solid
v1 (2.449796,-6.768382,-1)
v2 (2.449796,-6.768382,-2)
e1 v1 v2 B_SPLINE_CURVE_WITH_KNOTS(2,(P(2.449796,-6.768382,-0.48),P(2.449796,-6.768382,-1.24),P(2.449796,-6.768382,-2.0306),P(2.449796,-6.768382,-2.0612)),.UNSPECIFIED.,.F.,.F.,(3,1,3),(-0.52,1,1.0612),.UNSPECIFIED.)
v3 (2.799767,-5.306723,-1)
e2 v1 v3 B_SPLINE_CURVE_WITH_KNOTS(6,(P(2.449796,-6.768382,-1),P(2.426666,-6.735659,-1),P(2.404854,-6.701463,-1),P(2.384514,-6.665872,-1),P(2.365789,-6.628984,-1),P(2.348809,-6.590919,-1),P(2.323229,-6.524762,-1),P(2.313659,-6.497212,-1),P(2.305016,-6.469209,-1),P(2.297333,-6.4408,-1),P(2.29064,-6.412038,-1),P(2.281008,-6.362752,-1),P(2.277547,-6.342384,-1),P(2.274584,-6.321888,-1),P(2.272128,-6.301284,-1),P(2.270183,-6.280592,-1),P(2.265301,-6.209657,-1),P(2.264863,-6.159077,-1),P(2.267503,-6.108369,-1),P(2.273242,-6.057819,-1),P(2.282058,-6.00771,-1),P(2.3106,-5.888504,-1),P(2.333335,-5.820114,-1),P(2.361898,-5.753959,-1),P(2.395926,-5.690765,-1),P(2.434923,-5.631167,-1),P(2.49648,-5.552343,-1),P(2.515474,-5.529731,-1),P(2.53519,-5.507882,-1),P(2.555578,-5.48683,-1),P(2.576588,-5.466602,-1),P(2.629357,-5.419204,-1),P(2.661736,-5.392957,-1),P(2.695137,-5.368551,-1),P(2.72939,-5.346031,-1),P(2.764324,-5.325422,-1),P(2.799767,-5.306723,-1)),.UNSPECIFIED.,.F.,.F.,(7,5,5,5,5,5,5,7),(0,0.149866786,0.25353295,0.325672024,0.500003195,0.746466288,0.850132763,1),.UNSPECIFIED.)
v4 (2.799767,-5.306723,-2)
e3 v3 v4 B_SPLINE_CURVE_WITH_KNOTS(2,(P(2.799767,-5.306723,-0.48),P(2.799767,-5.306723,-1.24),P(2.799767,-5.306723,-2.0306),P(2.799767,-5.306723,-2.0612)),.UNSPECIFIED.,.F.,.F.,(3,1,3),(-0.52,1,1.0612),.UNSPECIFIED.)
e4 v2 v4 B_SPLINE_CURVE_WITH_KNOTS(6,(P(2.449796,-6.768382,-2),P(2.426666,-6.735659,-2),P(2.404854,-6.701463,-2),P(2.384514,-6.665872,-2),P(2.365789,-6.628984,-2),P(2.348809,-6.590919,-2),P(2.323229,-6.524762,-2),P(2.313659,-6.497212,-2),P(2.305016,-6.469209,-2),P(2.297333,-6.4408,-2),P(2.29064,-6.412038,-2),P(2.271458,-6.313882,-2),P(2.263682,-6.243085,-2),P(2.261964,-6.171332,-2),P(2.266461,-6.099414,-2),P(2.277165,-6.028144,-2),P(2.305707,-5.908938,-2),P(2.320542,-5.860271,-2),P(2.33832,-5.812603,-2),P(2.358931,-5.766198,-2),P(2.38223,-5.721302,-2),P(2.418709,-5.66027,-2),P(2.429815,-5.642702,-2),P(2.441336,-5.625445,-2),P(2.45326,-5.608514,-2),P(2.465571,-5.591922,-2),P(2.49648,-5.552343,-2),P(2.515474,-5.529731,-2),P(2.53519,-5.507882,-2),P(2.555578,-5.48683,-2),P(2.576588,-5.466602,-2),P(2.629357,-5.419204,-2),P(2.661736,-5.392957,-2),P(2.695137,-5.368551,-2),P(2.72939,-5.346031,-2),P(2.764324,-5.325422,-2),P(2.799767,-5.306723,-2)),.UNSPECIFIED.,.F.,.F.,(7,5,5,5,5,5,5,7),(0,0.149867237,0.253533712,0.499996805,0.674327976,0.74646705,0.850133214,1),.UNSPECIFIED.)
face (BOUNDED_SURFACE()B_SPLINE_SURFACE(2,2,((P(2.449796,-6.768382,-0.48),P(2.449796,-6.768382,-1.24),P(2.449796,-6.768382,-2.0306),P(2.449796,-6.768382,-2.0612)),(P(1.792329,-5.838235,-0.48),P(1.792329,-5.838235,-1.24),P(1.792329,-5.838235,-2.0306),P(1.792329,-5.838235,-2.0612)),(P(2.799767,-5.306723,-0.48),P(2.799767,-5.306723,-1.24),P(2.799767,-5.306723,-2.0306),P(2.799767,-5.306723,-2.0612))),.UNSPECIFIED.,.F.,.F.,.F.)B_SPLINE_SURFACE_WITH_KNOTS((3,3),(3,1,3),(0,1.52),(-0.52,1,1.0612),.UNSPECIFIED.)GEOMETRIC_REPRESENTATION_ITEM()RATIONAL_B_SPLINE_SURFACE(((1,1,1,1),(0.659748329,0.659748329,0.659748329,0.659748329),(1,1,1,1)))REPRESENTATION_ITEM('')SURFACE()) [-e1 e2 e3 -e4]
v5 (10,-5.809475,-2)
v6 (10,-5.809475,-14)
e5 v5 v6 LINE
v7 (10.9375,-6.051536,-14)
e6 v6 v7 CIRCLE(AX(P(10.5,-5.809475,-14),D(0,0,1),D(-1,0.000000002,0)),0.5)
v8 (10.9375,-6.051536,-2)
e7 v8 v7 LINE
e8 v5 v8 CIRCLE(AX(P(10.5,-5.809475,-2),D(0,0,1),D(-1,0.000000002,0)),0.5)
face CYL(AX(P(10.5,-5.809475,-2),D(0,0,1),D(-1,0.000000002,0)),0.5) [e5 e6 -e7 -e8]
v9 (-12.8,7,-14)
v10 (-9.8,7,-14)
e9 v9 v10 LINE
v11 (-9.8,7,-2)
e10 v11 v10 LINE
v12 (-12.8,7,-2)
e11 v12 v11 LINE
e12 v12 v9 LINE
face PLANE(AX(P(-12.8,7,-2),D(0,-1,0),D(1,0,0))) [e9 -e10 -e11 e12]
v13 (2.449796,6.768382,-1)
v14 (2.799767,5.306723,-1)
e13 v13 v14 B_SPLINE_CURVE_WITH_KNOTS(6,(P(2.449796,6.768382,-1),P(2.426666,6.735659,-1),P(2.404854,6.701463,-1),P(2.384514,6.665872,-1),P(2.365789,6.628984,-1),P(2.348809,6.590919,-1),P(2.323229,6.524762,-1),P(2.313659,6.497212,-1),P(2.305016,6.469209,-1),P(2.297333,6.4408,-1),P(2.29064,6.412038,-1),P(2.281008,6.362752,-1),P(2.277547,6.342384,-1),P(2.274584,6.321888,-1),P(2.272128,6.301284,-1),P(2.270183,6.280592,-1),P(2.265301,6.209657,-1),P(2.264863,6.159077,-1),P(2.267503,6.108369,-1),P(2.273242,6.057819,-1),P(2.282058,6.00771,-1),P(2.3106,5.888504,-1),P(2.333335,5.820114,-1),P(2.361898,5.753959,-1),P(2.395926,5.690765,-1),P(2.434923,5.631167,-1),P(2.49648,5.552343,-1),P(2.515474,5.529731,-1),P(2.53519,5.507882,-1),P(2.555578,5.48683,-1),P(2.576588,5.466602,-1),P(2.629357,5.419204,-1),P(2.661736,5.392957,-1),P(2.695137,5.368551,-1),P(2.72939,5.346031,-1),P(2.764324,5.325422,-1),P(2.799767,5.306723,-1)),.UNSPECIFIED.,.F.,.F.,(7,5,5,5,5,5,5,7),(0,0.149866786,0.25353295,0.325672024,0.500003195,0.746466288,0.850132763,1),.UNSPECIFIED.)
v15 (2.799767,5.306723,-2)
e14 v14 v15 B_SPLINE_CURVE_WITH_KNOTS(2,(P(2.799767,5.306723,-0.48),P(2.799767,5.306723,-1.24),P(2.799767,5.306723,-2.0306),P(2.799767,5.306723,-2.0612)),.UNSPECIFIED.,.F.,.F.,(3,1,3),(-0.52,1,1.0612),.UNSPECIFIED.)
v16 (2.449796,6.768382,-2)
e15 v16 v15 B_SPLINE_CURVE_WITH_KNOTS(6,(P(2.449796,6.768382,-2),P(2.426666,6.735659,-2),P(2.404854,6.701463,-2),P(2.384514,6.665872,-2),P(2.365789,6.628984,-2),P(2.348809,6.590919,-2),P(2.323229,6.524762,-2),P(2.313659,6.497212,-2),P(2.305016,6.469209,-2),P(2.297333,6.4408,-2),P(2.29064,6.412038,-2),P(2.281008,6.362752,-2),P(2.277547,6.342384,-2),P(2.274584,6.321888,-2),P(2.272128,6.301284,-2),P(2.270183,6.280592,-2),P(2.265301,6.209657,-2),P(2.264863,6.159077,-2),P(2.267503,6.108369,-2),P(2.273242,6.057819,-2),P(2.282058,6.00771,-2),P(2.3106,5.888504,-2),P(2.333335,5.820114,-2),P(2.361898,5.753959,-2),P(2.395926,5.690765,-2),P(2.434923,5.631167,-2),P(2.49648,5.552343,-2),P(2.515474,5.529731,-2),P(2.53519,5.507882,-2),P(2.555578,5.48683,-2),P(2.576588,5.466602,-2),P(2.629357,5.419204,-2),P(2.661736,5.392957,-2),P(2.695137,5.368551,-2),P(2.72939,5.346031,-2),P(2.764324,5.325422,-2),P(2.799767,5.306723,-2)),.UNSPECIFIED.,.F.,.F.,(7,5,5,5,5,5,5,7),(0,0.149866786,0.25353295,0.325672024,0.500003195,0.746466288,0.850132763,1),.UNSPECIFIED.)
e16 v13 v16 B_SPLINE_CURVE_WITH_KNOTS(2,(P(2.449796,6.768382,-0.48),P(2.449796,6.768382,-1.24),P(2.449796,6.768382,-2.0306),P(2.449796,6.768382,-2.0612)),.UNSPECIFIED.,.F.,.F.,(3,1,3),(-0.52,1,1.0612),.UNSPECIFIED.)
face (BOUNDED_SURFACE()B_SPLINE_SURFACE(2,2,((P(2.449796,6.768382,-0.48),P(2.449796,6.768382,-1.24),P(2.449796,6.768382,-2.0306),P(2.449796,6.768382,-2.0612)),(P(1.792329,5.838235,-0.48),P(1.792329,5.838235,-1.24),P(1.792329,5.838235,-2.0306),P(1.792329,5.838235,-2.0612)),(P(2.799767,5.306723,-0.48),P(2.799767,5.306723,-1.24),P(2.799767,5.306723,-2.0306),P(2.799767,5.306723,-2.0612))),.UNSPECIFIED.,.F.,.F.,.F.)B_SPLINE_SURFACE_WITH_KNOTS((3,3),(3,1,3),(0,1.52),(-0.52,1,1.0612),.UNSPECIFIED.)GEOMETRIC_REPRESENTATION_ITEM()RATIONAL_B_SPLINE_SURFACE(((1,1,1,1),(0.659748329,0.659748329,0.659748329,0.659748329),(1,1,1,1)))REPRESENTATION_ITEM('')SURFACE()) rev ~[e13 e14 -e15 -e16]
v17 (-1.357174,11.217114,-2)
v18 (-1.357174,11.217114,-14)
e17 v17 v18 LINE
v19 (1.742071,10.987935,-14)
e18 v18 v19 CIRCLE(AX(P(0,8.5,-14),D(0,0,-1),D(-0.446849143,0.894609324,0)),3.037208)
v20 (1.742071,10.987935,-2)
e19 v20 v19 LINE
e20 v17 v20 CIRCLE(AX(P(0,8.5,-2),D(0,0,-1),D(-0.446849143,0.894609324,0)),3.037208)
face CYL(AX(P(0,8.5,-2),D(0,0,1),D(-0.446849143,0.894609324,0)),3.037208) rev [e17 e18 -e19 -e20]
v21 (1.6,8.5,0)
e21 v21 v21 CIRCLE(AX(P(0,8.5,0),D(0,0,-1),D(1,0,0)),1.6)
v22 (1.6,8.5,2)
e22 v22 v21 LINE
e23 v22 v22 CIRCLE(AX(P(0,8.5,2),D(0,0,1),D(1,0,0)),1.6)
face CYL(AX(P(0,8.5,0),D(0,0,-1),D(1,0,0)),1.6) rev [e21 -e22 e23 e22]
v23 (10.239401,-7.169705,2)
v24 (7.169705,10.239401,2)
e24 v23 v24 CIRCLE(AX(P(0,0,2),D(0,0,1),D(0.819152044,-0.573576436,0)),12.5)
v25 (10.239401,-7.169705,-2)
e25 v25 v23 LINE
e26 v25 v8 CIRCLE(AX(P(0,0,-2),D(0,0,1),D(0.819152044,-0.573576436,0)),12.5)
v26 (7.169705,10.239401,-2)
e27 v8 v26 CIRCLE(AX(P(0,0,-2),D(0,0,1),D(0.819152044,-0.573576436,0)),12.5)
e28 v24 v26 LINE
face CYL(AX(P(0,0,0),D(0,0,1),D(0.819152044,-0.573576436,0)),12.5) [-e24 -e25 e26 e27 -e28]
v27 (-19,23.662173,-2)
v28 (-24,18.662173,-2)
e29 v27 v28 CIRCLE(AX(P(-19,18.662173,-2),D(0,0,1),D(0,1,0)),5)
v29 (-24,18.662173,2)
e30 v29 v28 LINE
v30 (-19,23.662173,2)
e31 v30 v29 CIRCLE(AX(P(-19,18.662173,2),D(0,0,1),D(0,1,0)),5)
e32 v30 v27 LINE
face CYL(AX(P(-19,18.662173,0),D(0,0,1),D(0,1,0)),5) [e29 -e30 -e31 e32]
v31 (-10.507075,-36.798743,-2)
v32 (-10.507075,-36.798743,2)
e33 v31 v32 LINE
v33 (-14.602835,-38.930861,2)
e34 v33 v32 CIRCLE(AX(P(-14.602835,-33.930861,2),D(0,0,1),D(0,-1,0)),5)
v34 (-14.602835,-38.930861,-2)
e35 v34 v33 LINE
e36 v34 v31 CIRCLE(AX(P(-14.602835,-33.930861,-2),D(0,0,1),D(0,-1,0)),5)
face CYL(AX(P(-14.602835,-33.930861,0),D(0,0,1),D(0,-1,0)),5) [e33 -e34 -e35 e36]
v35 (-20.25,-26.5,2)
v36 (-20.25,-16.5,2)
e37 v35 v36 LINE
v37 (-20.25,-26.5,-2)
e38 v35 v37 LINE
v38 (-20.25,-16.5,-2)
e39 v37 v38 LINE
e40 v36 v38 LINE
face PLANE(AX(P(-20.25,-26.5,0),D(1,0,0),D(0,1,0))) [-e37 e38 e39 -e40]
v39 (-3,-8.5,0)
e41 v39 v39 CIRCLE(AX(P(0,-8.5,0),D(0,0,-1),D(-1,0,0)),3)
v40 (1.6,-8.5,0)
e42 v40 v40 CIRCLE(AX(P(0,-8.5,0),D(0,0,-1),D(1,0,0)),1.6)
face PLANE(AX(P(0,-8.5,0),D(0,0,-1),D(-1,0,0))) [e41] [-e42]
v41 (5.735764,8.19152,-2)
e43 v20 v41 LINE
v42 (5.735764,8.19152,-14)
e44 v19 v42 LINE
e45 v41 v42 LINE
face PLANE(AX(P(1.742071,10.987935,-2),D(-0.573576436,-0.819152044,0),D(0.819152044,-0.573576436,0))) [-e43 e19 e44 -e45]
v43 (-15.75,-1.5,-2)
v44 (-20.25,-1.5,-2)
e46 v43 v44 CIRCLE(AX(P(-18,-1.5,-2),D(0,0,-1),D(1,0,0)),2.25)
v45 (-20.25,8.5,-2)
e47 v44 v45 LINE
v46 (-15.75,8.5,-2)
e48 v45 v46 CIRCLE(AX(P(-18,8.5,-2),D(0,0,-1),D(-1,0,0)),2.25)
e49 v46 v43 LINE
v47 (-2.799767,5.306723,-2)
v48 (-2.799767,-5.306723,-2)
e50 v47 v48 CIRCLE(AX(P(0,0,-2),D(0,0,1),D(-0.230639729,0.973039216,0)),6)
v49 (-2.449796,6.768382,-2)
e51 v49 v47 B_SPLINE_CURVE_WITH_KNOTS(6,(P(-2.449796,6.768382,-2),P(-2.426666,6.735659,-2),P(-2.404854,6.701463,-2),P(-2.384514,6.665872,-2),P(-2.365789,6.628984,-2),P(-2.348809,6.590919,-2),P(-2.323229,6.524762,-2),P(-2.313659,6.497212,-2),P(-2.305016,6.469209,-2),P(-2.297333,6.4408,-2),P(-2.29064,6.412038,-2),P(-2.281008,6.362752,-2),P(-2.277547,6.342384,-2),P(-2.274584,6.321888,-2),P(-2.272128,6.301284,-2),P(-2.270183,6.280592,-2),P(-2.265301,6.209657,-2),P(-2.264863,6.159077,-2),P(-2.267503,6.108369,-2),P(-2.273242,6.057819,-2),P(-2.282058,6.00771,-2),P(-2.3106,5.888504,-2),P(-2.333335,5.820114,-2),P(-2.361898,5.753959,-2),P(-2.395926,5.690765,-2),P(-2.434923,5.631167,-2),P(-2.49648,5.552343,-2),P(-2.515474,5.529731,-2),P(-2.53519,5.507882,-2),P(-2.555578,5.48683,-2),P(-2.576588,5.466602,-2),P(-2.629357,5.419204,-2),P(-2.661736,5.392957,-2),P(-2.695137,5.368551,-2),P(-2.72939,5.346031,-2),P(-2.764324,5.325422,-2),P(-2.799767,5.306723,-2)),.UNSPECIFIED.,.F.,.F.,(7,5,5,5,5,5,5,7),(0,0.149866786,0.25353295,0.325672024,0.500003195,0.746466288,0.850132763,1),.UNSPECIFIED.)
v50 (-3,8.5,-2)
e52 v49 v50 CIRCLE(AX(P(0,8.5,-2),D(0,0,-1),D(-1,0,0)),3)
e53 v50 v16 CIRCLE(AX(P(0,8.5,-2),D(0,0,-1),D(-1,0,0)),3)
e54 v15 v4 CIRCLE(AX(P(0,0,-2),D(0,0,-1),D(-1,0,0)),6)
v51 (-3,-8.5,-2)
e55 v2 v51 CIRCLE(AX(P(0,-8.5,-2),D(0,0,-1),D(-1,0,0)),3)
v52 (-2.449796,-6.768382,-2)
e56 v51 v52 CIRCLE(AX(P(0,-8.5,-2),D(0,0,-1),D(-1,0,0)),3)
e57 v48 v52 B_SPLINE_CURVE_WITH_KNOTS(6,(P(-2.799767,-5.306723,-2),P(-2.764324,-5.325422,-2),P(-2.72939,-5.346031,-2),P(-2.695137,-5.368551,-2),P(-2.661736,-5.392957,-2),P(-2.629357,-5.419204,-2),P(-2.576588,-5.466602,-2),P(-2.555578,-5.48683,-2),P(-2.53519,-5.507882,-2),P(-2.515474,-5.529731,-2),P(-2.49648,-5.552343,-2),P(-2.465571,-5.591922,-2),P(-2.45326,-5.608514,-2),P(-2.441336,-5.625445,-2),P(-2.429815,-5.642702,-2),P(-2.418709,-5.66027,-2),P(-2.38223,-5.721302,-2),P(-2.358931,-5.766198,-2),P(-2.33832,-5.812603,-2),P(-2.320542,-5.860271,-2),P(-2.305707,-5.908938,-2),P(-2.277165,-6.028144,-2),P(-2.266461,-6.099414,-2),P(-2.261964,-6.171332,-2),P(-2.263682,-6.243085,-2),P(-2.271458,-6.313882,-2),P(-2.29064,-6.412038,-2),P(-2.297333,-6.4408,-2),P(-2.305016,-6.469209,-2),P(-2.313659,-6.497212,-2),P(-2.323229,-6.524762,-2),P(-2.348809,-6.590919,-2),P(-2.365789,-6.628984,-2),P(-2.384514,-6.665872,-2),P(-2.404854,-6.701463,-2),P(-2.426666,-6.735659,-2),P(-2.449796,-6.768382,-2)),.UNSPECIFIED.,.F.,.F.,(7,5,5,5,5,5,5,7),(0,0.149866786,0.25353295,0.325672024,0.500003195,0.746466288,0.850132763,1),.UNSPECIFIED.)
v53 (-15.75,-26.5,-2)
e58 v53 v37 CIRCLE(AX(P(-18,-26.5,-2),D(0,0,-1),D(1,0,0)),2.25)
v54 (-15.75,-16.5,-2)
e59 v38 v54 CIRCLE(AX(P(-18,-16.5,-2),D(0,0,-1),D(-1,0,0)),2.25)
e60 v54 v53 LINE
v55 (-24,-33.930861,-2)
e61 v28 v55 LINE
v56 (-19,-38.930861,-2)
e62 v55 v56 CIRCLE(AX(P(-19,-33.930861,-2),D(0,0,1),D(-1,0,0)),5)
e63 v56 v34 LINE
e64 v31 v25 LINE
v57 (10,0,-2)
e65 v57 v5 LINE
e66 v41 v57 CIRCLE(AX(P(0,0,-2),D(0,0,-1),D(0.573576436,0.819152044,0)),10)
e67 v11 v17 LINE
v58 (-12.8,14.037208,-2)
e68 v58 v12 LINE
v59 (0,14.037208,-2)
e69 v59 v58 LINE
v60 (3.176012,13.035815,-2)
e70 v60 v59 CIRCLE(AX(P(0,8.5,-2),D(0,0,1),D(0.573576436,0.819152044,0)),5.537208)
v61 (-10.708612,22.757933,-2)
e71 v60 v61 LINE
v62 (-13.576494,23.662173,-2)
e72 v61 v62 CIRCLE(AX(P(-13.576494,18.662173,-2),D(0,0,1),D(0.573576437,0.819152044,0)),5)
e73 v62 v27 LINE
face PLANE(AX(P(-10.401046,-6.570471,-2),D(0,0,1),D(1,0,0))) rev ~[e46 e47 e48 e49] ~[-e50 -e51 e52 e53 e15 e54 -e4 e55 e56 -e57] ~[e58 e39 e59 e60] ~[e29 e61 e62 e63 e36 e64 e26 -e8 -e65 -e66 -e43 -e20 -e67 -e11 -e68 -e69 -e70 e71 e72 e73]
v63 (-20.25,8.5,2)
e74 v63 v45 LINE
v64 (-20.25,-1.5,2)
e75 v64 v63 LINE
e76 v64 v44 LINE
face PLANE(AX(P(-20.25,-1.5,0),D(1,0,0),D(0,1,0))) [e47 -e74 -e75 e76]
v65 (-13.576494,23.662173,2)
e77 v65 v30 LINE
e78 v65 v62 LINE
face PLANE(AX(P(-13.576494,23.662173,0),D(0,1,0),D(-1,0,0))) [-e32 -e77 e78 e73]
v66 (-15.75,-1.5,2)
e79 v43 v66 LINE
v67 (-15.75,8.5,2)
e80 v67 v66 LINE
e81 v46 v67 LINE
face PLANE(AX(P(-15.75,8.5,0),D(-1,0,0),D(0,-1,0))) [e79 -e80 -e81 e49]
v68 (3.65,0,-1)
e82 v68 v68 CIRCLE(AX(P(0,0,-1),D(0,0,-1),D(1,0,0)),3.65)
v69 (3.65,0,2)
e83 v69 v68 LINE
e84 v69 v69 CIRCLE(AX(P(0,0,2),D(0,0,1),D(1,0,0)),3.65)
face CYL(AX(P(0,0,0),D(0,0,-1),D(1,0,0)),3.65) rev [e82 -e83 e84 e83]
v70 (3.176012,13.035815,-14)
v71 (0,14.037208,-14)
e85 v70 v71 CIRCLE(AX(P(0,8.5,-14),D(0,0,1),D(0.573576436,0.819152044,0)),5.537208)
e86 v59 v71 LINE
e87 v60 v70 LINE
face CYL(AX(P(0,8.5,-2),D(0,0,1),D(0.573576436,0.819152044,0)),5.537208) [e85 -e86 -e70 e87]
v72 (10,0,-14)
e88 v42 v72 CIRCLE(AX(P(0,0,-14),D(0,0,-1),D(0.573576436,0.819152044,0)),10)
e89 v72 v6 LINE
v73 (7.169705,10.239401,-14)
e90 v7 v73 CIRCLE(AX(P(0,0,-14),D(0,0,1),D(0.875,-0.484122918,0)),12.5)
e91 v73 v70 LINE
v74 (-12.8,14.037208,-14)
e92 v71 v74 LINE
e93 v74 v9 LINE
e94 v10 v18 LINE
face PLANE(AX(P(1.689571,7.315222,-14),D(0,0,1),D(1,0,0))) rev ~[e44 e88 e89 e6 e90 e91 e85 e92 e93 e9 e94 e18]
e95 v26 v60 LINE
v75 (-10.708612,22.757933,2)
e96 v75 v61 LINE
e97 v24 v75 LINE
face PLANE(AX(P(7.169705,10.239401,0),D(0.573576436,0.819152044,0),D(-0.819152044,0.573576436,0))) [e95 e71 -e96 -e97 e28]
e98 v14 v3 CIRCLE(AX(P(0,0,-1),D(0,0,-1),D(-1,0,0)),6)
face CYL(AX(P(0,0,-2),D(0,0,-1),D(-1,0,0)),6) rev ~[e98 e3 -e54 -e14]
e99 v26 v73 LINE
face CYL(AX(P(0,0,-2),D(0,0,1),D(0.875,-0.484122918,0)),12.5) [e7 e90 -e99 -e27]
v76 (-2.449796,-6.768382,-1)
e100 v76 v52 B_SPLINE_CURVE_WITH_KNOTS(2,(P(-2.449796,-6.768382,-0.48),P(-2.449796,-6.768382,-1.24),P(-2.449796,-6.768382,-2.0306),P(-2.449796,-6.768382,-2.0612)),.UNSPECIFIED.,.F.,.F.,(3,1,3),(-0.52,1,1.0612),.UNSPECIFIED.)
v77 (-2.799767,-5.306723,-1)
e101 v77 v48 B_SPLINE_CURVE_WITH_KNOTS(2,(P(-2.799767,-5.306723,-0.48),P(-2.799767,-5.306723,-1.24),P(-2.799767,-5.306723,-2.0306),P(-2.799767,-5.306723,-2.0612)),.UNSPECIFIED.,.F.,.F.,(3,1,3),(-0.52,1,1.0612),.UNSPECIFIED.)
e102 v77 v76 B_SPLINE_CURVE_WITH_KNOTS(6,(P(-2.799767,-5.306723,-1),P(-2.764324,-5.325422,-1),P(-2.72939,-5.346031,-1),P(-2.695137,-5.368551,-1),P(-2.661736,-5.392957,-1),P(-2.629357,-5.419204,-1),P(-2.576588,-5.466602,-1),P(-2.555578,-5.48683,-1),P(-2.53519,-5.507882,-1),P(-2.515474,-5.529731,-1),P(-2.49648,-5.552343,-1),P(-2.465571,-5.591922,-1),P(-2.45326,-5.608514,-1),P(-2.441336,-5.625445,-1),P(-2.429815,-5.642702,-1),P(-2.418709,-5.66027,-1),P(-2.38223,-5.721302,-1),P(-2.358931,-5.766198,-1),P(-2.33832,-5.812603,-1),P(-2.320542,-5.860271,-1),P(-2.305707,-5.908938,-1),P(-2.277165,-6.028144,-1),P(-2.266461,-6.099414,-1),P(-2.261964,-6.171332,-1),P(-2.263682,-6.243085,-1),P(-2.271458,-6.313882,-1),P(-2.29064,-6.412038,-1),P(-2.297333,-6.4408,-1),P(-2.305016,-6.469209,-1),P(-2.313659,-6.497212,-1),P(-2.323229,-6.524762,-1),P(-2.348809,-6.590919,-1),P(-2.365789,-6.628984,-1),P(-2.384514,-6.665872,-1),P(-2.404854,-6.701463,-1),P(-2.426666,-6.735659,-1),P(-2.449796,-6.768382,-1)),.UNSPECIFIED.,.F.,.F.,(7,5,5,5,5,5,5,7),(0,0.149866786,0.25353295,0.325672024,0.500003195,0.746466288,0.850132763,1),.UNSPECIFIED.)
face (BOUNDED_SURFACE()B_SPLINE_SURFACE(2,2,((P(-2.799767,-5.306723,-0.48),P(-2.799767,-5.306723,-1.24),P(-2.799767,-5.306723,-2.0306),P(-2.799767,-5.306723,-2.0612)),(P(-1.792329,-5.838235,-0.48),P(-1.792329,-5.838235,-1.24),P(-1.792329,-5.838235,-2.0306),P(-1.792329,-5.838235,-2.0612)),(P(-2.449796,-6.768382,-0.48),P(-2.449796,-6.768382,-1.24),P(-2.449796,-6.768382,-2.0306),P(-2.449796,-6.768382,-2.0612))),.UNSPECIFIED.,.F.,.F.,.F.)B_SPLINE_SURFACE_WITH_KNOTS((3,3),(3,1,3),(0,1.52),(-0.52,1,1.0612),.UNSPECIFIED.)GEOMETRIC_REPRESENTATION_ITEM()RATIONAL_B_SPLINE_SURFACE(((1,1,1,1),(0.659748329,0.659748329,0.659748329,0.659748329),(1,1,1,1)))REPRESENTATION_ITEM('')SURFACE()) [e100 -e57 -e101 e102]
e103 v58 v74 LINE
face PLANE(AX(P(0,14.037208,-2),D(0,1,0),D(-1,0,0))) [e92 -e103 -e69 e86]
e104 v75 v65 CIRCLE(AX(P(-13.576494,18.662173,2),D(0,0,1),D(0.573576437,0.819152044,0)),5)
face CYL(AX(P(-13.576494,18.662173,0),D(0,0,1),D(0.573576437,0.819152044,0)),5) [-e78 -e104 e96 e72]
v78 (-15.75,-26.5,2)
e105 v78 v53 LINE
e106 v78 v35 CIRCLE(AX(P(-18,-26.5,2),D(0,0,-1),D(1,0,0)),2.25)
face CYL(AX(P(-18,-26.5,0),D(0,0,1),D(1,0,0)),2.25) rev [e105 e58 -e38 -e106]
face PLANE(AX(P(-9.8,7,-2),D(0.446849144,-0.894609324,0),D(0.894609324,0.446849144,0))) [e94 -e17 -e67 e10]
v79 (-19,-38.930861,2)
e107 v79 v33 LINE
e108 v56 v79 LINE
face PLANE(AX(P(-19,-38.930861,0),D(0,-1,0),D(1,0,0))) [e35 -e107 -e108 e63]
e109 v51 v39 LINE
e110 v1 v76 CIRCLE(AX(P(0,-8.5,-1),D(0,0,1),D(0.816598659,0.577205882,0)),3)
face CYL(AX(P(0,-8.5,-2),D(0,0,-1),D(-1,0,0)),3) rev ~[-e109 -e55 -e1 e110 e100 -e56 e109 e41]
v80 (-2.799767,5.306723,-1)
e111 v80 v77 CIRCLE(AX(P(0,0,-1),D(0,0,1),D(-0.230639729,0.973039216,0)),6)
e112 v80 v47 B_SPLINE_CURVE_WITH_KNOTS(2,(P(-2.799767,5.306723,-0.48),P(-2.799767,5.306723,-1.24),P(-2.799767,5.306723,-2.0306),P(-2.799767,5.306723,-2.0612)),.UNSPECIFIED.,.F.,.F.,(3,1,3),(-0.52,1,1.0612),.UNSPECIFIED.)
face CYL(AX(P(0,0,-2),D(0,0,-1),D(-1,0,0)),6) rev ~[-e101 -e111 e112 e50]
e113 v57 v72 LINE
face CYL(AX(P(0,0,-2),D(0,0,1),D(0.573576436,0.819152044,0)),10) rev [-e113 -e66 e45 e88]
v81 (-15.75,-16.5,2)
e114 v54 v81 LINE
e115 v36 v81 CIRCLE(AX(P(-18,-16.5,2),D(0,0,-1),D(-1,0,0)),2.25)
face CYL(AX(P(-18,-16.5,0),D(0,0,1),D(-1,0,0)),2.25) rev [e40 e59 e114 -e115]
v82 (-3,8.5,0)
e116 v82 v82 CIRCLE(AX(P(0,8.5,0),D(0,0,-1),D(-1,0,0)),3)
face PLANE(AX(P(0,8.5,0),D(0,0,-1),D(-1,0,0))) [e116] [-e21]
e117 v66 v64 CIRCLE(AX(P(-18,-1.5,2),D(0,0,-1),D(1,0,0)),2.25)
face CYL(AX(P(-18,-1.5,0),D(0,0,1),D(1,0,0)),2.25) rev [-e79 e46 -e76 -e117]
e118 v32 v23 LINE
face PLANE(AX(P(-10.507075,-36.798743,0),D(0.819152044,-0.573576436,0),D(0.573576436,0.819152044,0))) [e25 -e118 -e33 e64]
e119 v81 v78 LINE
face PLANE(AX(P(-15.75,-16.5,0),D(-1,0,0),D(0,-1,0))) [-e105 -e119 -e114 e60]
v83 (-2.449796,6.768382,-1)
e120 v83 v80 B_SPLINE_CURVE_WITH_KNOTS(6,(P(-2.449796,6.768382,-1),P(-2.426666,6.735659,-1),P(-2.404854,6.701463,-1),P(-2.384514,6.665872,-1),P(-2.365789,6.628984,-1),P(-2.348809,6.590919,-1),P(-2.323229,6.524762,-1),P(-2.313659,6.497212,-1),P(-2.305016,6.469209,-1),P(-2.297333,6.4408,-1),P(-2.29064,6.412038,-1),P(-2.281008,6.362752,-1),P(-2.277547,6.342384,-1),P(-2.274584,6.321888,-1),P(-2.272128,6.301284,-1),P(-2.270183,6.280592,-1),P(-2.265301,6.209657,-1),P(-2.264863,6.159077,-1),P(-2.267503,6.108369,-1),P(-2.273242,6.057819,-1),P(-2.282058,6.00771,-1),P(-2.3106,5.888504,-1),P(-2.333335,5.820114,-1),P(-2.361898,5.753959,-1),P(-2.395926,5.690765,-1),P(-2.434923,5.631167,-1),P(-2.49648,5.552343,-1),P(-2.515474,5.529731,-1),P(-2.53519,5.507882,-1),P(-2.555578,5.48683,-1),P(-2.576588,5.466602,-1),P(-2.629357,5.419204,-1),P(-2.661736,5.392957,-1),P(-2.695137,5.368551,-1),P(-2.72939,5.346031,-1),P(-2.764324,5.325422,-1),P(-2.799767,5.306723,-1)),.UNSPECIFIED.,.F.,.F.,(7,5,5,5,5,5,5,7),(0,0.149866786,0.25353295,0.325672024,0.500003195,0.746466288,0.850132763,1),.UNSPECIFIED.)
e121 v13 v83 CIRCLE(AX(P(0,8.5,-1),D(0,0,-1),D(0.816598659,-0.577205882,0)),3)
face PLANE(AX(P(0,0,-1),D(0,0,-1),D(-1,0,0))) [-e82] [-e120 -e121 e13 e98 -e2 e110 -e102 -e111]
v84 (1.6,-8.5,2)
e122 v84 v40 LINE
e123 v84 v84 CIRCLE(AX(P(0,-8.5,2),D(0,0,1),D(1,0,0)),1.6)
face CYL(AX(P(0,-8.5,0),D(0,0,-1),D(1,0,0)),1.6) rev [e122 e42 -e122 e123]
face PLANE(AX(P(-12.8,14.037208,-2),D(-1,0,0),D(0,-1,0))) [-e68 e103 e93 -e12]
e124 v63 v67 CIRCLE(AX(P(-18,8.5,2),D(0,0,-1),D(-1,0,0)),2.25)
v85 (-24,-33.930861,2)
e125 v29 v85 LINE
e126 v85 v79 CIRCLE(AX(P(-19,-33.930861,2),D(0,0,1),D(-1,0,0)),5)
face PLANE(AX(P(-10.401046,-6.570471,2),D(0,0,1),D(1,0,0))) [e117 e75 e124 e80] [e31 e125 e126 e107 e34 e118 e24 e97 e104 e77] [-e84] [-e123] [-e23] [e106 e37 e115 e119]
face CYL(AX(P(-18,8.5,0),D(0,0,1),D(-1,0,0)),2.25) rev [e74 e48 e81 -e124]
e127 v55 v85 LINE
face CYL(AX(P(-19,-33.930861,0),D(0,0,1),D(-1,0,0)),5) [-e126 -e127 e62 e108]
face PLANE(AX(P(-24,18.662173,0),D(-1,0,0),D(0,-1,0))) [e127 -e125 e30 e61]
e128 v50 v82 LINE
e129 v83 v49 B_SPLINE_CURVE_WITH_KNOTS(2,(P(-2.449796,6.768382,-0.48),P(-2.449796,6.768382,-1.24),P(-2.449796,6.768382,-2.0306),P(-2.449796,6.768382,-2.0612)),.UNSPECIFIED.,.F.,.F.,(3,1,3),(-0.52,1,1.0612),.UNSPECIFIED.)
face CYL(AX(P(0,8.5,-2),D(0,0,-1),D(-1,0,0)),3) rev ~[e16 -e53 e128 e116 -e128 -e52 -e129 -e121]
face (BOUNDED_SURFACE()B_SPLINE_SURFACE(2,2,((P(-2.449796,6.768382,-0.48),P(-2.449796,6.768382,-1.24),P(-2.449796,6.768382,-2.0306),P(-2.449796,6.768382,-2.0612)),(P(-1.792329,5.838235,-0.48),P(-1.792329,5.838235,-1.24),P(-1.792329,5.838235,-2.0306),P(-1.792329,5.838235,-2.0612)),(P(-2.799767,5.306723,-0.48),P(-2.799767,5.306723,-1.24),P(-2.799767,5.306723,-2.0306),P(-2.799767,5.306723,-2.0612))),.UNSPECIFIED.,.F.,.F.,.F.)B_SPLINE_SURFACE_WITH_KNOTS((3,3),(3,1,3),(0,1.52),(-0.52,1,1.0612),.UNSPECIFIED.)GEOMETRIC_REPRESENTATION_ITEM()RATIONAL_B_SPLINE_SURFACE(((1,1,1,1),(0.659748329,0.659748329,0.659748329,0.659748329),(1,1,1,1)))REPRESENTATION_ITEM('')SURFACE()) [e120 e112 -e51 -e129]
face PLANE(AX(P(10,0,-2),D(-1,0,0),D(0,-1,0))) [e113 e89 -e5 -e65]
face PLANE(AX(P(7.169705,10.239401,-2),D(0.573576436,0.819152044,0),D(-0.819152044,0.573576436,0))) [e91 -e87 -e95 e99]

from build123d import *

# Parameters (mm, degrees)
SKETCH1_R           = 3.65
SKETCH1_R_2         = 1.6
BOSS_EXTRUDE1_DEPTH = 2
SKETCH2_R           = 3
CUT_EXTRUDE1_DEPTH  = 2
SKETCH3_R           = 6
CUT_EXTRUDE2_DEPTH  = 1
FILLET1_R           = 1
BOSS_EXTRUDE2_DEPTH = 12


with BuildPart() as part:
    # Sketch1 → Boss-Extrude1 (new, symmetric)
    with BuildSketch(Plane.XY):
        with BuildLine():
            Line((-24, 18.662172818), (-24, -33.930861026))
            ThreePointArc((-24, -33.930861026), (-22.535533906, -37.466394932), (-19, -38.930861026))
            Line((-19, -38.930861026), (-14.602835253, -38.930861026))
            ThreePointArc((-14.602835253, -38.930861026), (-12.294092187, -38.365915192), (-10.507075031, -36.798743208))
            Line((-10.507075031, -36.798743208), (10.239400554, -7.169705454))
            ThreePointArc((10.239400554, -7.169705454), (12.310096913, 2.170602221), (7.169705454, 10.239400554))
            Line((7.169705454, 10.239400554), (-10.708611763, 22.757933039))
            ThreePointArc((-10.708611763, 22.757933039), (-12.072964947, 23.430757572), (-13.576493944, 23.662172818))
            Line((-13.576493944, 23.662172818), (-19, 23.662172818))
            ThreePointArc((-19, 23.662172818), (-22.535533906, 22.197706724), (-24, 18.662172818))
        make_face()
        Circle(SKETCH1_R, mode=Mode.SUBTRACT)
        with Locations((0, 8.5)):
            Circle(SKETCH1_R_2, mode=Mode.SUBTRACT)
        with Locations((0, -8.5)):
            Circle(SKETCH1_R_2, mode=Mode.SUBTRACT)
        with BuildLine():
            Line((-15.75, 8.5), (-15.75, -1.5))
            ThreePointArc((-15.75, -1.5), (-18, -3.75), (-20.25, -1.5))
            Line((-20.25, -1.5), (-20.25, 8.5))
            ThreePointArc((-20.25, 8.5), (-18, 10.75), (-15.75, 8.5))
        make_face(mode=Mode.SUBTRACT)
        with BuildLine():
            Line((-15.75, -16.5), (-15.75, -26.5))
            ThreePointArc((-15.75, -26.5), (-18, -28.75), (-20.25, -26.5))
            Line((-20.25, -26.5), (-20.25, -16.5))
            ThreePointArc((-20.25, -16.5), (-18, -14.25), (-15.75, -16.5))
        make_face(mode=Mode.SUBTRACT)
    extrude(amount=BOSS_EXTRUDE1_DEPTH, both=True)

    # Sketch2 → Cut-Extrude1 (cut)
    with BuildSketch(Plane(origin=(0, 0, -2), x_dir=(-1, 0, 0), z_dir=(0, 0, -1))):
        with Locations((0, 8.5)):
            Circle(SKETCH2_R)
        with Locations((0, -8.5)):
            Circle(SKETCH2_R)
    extrude(amount=-CUT_EXTRUDE1_DEPTH, mode=Mode.SUBTRACT)

    # Sketch3 → Cut-Extrude2 (cut)
    with BuildSketch(Plane(origin=(0, 0, -2), x_dir=(-1, 0, 0), z_dir=(0, 0, -1))):
        Circle(SKETCH3_R)
    extrude(amount=-CUT_EXTRUDE2_DEPTH, mode=Mode.SUBTRACT)

    # Fillet1
    fillet1_edges = [part.edges().sort_by_distance(p)[0] for p in [
        (-1.383838376, -5.838235294, -1.5),
        (1.383838376, -5.838235294, -1.5),
        (-1.383838376, 5.838235294, -1.5),
        (1.383838376, 5.838235294, -1.5),
    ]]
    fillet(fillet1_edges, radius=FILLET1_R)

    # Sketch4 → Boss-Extrude2 (add)
    with BuildSketch(Plane(origin=(0, 0, -2), x_dir=(-1, 0, 0), z_dir=(0, 0, -1))):
        with BuildLine():
            Line((9.8, 7), (1.357173626, 11.217114259))
            ThreePointArc((1.357173626, 11.217114259), (-0.22398046, 11.528937586), (-1.742070725, 10.987934834))
            Line((-1.742070725, 10.987934834), (-5.735764364, 8.191520443))
            ThreePointArc((-5.735764364, 8.191520443), (-8.870108332, 4.617486132), (-10, 0))
            Line((-10, 0), (-10, -5.809475019))
            ThreePointArc((-10, -5.809475019), (-10.375, -6.293597938), (-10.9375, -6.051536478))
            ThreePointArc((-10.9375, -6.051536478), (-12.178521244, 2.8166683), (-7.169705454, 10.239400554))
            Line((-7.169705454, 10.239400554), (-3.176011816, 13.035814944))
            ThreePointArc((-3.176011816, 13.035814944), (-1.665070445, 13.78092877), (0, 14.037207624))
            Line((0, 14.037207624), (12.8, 14.037207624))
            Line((12.8, 14.037207624), (12.8, 7))
            Line((12.8, 7), (9.8, 7))
        make_face()
    extrude(amount=BOSS_EXTRUDE2_DEPTH)


solid = part.part
